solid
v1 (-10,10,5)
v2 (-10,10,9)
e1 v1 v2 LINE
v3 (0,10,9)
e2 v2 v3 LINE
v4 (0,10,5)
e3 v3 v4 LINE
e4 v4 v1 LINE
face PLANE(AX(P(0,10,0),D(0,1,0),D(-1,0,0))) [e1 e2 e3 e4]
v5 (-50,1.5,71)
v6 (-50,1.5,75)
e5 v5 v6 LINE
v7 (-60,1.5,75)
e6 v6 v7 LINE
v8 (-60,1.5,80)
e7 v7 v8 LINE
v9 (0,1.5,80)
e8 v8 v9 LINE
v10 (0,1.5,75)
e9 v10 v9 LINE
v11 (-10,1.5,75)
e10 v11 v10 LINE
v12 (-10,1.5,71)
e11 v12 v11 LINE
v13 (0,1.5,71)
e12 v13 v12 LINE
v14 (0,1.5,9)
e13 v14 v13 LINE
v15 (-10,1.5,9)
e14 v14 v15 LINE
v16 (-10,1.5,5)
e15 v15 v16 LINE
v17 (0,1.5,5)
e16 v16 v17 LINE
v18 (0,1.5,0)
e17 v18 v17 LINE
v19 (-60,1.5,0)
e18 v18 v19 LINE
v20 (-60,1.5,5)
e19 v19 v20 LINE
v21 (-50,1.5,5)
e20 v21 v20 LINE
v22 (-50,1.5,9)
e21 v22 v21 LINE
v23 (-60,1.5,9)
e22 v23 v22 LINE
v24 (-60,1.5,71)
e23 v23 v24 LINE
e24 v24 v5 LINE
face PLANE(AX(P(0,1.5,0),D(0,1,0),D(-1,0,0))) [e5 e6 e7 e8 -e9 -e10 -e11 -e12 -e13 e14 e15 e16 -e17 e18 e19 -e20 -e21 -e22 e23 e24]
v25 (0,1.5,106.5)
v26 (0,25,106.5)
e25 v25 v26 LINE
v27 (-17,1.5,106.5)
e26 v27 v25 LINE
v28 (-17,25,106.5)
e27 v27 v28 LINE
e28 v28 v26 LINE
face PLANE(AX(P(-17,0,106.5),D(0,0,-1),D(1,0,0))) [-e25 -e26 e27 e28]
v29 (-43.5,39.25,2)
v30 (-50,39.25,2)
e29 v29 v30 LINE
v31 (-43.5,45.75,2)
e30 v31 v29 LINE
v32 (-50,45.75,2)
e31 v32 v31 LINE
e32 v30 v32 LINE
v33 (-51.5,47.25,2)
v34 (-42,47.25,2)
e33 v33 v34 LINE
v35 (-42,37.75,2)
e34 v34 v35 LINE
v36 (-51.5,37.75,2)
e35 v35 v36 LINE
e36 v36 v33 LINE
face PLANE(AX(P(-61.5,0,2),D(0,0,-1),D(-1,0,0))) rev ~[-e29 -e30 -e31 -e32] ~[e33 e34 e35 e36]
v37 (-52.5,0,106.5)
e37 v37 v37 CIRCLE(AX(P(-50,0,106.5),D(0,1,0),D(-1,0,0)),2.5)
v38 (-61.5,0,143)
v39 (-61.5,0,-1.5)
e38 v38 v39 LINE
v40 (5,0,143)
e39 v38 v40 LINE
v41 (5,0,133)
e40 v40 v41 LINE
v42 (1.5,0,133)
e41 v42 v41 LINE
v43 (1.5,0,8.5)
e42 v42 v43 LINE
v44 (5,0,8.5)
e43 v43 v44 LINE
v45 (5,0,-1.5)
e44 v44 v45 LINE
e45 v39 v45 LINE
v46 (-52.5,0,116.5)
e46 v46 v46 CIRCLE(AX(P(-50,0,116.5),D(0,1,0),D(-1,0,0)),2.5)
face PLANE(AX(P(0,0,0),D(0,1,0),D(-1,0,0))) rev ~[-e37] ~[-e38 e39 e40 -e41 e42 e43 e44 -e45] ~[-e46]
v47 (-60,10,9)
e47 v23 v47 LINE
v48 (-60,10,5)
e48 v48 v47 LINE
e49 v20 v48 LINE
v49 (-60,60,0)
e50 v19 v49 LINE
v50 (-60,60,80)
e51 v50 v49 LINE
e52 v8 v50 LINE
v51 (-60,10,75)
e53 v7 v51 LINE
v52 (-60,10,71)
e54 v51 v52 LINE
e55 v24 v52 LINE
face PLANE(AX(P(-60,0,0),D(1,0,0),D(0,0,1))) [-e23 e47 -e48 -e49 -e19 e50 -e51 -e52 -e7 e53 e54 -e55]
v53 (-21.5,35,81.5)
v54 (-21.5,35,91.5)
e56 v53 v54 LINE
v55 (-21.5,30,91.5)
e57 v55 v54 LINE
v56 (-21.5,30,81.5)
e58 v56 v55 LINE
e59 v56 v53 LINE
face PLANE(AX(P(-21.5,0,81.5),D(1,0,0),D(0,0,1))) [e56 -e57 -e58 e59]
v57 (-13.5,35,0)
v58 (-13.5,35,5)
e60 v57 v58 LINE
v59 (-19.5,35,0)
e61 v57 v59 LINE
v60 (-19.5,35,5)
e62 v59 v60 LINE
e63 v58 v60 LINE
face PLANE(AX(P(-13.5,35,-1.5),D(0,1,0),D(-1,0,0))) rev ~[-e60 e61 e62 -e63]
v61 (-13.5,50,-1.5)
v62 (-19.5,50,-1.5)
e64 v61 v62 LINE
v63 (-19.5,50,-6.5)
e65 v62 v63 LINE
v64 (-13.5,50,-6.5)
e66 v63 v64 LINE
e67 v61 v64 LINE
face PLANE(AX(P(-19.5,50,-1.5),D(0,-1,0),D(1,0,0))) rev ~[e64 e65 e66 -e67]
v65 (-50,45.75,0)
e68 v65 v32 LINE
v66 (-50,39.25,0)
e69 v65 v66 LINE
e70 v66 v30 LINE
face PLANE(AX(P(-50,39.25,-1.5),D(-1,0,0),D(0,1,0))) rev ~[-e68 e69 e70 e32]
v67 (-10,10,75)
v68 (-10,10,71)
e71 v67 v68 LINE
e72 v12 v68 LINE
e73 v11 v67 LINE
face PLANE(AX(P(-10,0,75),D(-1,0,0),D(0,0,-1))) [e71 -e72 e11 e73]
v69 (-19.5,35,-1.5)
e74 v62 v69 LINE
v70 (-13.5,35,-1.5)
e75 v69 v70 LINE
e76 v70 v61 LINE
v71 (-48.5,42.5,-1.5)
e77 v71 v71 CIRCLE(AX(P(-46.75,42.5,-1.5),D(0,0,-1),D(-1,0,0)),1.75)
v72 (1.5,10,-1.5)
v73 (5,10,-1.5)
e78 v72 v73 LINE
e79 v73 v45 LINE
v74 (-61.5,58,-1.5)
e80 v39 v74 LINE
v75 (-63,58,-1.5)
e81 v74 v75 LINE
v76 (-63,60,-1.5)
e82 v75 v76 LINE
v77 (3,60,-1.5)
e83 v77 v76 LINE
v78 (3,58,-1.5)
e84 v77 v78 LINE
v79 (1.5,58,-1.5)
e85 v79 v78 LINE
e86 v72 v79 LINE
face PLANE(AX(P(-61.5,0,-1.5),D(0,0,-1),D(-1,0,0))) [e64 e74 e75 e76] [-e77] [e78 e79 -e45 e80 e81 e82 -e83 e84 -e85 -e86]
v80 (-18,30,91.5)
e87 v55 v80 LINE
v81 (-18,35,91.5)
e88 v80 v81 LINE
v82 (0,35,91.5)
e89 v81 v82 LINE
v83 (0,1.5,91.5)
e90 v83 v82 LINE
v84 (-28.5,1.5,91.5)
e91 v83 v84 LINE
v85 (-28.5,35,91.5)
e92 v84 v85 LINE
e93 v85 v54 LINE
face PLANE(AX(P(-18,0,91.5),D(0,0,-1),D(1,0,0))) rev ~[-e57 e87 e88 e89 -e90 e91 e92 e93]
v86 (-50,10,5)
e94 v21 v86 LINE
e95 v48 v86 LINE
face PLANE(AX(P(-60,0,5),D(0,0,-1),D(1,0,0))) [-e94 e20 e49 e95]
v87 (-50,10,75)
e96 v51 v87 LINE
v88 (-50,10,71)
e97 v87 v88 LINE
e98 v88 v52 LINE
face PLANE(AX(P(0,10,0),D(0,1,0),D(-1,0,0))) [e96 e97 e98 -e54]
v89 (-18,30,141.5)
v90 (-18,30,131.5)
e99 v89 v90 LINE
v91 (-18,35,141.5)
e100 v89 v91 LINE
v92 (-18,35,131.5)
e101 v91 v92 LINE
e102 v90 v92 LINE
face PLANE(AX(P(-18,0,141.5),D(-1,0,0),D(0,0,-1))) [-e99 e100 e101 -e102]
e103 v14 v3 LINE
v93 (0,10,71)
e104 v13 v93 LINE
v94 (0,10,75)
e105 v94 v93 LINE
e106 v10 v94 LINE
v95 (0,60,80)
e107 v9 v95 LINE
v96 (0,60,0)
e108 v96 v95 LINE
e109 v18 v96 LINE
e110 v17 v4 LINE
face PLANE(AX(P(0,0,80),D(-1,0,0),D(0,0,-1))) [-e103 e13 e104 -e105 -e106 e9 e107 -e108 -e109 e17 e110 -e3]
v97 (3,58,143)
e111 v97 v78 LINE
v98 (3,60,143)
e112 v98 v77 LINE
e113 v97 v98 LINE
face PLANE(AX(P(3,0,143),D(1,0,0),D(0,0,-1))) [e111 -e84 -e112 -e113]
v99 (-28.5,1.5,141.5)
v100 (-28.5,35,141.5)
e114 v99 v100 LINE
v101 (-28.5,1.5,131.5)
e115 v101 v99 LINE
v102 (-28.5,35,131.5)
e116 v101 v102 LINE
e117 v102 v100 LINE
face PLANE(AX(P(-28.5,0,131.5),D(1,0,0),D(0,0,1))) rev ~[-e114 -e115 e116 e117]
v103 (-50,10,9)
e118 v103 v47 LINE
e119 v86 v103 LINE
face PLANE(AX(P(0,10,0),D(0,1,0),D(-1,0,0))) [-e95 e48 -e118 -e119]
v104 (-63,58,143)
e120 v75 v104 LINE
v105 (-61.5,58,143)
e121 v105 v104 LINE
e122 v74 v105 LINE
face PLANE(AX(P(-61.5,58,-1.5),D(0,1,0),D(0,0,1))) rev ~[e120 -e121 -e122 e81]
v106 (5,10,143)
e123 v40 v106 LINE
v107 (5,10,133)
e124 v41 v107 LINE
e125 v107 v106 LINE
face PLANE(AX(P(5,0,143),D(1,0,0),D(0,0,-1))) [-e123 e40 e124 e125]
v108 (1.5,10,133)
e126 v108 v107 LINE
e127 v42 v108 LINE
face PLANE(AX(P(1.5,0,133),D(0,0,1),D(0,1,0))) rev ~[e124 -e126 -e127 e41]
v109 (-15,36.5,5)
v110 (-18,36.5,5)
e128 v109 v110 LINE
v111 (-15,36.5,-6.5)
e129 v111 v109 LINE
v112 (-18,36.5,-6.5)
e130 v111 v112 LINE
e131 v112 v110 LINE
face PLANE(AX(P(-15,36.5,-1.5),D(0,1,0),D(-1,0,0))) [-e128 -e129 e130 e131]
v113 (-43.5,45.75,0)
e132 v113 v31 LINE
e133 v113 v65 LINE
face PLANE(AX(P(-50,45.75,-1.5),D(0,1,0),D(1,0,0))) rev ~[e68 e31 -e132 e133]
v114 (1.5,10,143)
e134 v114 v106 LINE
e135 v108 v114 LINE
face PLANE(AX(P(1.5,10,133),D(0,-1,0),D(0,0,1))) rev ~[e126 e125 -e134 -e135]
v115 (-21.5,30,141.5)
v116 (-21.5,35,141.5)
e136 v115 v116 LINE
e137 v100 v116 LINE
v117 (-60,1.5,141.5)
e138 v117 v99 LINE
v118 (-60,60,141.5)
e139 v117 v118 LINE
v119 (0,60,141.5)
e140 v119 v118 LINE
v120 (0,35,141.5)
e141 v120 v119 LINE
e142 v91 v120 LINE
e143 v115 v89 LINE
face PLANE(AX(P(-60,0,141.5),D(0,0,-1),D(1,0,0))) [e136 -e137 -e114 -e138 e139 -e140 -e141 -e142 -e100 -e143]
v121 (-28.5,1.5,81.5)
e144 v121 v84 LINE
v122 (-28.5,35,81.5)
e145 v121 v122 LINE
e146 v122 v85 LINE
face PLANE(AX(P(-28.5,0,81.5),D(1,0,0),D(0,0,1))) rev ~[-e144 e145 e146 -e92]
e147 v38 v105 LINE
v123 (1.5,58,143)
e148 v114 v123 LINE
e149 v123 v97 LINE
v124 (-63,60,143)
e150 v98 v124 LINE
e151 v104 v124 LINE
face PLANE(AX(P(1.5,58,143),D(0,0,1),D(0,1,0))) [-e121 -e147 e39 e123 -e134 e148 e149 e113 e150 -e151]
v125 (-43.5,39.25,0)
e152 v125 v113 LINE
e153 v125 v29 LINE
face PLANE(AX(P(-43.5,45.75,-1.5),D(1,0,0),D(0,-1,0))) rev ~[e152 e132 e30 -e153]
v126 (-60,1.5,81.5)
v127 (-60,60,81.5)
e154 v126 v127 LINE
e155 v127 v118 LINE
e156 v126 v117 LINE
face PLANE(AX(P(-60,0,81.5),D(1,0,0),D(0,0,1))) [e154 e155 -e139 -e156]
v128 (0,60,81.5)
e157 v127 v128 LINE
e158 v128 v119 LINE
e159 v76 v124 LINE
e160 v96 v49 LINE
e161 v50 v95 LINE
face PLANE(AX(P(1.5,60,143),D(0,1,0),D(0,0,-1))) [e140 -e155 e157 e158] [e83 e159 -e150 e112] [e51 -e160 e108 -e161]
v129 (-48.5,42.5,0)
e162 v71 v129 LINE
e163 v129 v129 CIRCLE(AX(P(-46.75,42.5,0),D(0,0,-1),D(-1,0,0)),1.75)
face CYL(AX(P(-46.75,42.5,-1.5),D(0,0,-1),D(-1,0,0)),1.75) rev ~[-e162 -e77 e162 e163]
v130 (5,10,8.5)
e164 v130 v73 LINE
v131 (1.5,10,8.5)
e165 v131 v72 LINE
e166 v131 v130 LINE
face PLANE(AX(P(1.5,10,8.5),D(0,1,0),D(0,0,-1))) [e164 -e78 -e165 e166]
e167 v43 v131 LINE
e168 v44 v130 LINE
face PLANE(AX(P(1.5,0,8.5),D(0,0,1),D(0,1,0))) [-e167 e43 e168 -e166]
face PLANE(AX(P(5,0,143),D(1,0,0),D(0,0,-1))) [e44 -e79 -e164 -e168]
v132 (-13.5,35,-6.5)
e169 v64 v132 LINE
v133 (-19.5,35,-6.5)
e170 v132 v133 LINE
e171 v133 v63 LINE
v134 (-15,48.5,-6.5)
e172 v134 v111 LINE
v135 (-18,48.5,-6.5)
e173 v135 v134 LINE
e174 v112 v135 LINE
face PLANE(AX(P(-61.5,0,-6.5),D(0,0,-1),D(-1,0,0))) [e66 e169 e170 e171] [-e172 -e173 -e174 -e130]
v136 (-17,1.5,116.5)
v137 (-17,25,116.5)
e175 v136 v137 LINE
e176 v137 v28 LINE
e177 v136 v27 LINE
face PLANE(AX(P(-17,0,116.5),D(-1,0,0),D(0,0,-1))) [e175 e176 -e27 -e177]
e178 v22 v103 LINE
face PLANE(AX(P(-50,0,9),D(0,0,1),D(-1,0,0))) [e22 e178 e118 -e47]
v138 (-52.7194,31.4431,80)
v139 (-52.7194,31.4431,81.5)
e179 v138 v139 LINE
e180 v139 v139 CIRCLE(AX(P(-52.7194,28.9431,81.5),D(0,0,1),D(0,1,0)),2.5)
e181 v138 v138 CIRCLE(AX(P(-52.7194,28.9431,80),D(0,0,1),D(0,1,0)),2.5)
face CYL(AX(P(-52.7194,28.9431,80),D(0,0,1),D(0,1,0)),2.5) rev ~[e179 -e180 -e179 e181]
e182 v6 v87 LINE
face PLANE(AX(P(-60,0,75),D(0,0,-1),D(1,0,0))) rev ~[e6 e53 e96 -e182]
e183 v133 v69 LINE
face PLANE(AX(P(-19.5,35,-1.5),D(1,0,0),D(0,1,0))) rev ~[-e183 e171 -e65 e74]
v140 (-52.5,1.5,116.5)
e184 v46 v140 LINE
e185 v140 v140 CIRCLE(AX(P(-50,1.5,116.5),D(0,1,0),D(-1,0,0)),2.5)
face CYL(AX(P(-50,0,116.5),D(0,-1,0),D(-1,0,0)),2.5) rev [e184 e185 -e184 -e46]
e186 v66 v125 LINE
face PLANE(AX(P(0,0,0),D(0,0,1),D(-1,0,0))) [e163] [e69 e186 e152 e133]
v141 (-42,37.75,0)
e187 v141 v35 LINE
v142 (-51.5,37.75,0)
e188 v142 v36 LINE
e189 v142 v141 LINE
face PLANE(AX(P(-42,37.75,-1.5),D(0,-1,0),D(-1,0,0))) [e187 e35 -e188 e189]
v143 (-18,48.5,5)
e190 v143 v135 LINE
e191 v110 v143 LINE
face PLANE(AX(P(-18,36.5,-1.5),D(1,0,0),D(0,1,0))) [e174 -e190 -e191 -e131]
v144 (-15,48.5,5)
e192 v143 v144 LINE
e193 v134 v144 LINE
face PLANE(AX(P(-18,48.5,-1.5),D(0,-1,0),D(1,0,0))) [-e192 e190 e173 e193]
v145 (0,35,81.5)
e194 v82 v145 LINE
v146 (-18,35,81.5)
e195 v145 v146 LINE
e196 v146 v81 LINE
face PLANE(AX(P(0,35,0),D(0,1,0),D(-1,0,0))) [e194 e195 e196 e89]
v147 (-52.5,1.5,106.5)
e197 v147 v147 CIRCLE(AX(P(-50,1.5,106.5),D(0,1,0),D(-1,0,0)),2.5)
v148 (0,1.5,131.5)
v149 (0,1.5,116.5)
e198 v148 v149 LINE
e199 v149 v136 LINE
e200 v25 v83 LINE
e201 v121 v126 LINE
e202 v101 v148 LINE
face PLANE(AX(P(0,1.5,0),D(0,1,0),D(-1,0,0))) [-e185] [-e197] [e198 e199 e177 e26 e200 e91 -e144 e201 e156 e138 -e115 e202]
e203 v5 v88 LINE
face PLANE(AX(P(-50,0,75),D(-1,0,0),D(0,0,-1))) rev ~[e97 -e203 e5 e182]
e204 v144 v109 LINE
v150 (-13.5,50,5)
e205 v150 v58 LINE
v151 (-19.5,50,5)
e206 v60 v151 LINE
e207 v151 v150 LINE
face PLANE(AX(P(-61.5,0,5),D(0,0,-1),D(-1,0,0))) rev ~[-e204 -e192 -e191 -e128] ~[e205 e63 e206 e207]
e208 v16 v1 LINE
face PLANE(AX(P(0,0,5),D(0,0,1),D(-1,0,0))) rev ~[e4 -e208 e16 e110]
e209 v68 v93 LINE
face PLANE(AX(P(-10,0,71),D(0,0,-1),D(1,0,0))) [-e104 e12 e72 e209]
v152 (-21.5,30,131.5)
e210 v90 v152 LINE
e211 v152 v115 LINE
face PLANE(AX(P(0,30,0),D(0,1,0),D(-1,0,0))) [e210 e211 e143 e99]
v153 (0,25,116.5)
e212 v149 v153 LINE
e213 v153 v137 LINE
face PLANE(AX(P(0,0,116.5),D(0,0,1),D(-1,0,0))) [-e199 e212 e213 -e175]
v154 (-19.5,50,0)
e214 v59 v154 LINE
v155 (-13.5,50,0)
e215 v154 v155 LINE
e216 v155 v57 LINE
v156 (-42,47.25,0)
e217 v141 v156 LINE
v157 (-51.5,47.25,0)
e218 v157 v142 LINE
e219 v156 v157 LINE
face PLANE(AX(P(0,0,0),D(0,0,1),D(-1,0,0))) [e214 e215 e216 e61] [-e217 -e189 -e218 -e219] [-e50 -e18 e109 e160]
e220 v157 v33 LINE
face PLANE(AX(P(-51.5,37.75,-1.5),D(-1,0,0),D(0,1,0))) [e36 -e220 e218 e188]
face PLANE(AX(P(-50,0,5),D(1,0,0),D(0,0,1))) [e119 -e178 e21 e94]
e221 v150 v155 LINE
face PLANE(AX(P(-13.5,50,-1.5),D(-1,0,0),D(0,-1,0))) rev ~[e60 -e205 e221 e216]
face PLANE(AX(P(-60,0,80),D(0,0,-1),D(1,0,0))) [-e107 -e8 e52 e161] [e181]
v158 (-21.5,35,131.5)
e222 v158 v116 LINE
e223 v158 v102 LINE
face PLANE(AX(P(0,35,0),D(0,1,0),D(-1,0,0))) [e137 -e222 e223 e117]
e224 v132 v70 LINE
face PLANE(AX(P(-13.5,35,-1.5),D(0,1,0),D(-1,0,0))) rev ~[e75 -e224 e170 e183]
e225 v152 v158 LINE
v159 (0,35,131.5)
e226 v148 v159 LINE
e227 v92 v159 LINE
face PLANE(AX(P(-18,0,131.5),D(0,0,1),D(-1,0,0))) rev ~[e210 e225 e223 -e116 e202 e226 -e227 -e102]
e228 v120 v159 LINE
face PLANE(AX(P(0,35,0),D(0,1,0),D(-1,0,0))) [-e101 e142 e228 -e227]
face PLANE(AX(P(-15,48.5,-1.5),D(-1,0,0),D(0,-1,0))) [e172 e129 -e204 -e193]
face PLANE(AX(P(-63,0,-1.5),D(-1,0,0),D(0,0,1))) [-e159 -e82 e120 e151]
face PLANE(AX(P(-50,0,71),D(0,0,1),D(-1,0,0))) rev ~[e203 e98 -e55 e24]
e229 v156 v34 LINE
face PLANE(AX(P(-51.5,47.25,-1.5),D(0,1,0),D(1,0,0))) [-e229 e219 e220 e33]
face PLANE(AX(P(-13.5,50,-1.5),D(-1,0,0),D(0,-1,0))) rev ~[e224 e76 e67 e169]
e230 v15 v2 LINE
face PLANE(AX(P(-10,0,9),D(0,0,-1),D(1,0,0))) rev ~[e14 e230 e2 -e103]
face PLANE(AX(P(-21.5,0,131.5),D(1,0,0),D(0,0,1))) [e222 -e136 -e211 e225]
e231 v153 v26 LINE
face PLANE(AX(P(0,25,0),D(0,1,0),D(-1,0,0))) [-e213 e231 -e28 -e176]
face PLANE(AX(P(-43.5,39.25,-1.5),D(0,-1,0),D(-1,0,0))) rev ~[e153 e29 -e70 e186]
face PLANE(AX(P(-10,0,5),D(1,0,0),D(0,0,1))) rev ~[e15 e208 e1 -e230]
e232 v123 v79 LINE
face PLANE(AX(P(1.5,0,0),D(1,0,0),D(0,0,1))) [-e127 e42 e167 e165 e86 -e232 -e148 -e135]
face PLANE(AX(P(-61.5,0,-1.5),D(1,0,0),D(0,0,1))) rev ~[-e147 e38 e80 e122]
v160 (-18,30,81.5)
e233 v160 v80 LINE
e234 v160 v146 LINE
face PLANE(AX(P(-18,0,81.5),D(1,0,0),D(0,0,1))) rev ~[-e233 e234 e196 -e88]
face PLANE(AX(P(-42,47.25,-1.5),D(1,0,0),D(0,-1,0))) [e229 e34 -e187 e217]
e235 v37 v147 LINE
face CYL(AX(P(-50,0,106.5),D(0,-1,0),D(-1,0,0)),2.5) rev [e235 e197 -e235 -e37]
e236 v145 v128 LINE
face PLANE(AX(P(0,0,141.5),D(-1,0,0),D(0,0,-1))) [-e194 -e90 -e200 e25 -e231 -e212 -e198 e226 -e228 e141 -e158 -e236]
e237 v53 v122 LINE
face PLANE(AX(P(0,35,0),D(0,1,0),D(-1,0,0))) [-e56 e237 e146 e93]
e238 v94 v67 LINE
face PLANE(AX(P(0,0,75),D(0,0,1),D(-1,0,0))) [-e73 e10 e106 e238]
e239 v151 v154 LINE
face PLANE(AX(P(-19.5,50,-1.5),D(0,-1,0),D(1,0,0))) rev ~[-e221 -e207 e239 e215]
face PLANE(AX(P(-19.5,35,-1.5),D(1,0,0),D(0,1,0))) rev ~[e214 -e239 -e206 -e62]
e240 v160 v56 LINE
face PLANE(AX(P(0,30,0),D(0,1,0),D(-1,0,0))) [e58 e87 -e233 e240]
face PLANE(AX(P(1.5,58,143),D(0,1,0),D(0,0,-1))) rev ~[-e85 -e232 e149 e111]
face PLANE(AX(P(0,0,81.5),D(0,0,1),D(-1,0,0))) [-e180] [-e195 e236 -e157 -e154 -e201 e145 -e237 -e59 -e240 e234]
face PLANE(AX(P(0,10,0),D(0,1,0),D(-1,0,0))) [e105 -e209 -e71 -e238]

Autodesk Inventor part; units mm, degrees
ref_plane "YZ Plane" through (0, 0, 0) normal (1, 0, 0) x (0, 1, 0)
ref_plane "XZ Plane" through (0, 0, 0) normal (0, 1, 0) x (-1, 0, 0)
ref_plane "XY Plane" through (0, 0, 0) normal (0, 0, 1) x (1, 0, 0)
sketch "Skizze1" plane through (0, 0, 0) normal (0, 1, 0) x (-1, 0, 0)
  line L0 (0, 0) -> (60, 0)
  line L1 (60, 0) -> (60, 81.5)
  line L2 (60, 81.5) -> (60, 141.5)
  line L3 (60, 141.5) -> (0, 141.5)
  line L4 (0, 141.5) -> (0, 81.5)
  line L5 (0, 81.5) -> (60, 81.5)
  line L6 (0, 81.5) -> (0, 0)
  line L7 (60, 0) -> (0, 0)
  circle A0 centre (50, 116.5) radius 2.5
  circle A1 centre (50, 106.5) radius 2.5
  line L8 (0, 0) -> (-1.5, 0)
  line L9 (-1.5, 0) -> (-1.5, 141.5)
  line L10 (-1.5, 141.5) -> (0, 141.5)
  line L11 (0, 141.5) -> (0, 0)
  line L12 (-1.5, 141.5) -> (61.5, 141.5)
  line L13 (61.5, 141.5) -> (61.5, 143)
  line L14 (61.5, 143) -> (-1.5, 143)
  line L15 (-1.5, 143) -> (-1.5, 141.5)
  line L16 (61.5, 141.5) -> (60, 141.5)
  line L17 (60, 141.5) -> (60, 0)
  line L18 (60, 0) -> (61.5, 0)
  line L19 (61.5, 0) -> (61.5, 141.5)
  line L20 (61.5, 0) -> (-1.5, 0)
  line L21 (-1.5, 0) -> (-1.5, -1.5)
  line L22 (-1.5, -1.5) -> (61.5, -1.5)
  line L23 (61.5, -1.5) -> (61.5, 0)
  line L24 (61.5, 71.5) -> (61.5, 80)
  line L25 (61.5, 80) -> (-1.5, 80)
  line L26 (-1.5, 80) -> (-1.5, 70.75)
  line L27 (0, 141.5) -> (18, 141.5)
  line L28 (18, 141.5) -> (18, 131.5)
  line L29 (18, 131.5) -> (0, 131.5)
  line L30 (0, 131.5) -> (0, 141.5)
  line L31 (18, 131.5) -> (21.5, 131.5)
  line L32 (21.5, 131.5) -> (21.5, 141.5)
  line L33 (21.5, 141.5) -> (18, 141.5)
  line L34 (18, 141.5) -> (18, 131.5)
  line L35 (21.5, 131.5) -> (28.5, 131.5)
  line L36 (28.5, 131.5) -> (28.5, 141.5)
  line L37 (28.5, 141.5) -> (21.5, 141.5)
  line L38 (21.5, 141.5) -> (21.5, 131.5)
  line L39 (0, 81.5) -> (18, 81.5)
  line L40 (18, 81.5) -> (18, 91.5)
  line L41 (18, 91.5) -> (0, 91.5)
  line L42 (0, 91.5) -> (0, 81.5)
  line L43 (18, 81.5) -> (21.5, 81.5)
  line L44 (21.5, 81.5) -> (21.5, 91.5)
  line L45 (21.5, 91.5) -> (18, 91.5)
  line L46 (18, 91.5) -> (18, 81.5)
  line L47 (21.5, 81.5) -> (28.5, 81.5)
  line L48 (28.5, 81.5) -> (28.5, 91.5)
  line L49 (28.5, 91.5) -> (21.5, 91.5)
  line L50 (21.5, 91.5) -> (21.5, 81.5)
  line L51 (0, 116.5) -> (17, 116.5)
  line L52 (17, 116.5) -> (17, 106.5)
  line L53 (17, 106.5) -> (0, 106.5)
  line L54 (0, 106.5) -> (0, 116.5)
  line L55 (0, 75) -> (10, 75)
  line L56 (10, 75) -> (10, 71)
  line L57 (10, 71) -> (0, 71)
  line L58 (0, 71) -> (0, 75)
  line L59 (60, 71) -> (60, 73.5)
  line L60 (60, 5) -> (60, 9)
  line L61 (60, 75) -> (50, 75)
  line L62 (50, 75) -> (50, 71)
  line L63 (50, 71) -> (60, 71)
  line L64 (60, 71) -> (60, 75)
  line L65 (0, 5) -> (10, 5)
  line L66 (10, 5) -> (10, 9)
  line L67 (10, 9) -> (0, 9)
  line L68 (0, 9) -> (0, 5)
  line L69 (60, 5) -> (50, 5)
  line L70 (50, 5) -> (50, 9)
  line L71 (50, 9) -> (60, 9)
  line L72 (60, 9) -> (60, 5)
  point P0 (0, 131.5)
  point P1 (0, 116.5)
  point P2 (0, 106.5)
  point P3 (28.5, 141.5)
  point P4 (60, 80)
  point P5 (0, 80)
  point P6 (21.5, 141.5)
  point P7 (18, 141.5)
  point P8 (0, 71)
  point P9 (0, 9)
  dimension "d0" = 81.5
  dimension "d1" = 60
  dimension "d2" = 60
  dimension "d3" = 5
  dimension "d4" = 10
  dimension "d5" = 5
  dimension "d6" = 10
  dimension "d7" = 25
  dimension "d11" = 1.5
  dimension "d12" = 1.5
  dimension "d13" = 1.5
  dimension "d14" = 1.5
  dimension "d15" = 1.5
  dimension "d16" = 10
  dimension "d17" = 18
  dimension "d18" = 3.5
  dimension "d19" = 7
  dimension "d20" = 10
  dimension "d21" = 17
  dimension "d59" = 0
  dimension "d60" = 25
  dimension "d61" = 10
  dimension "d92" = 4
  dimension "d93" = 10
  dimension "d94" = 5
  dimension "d100" = 10
  dimension "d101" = 4
  dimension "d102" = 10
  dimension "d103" = 5
  dimension "d104" = 70
  dimension "d105" = 40
  dimension "d115" = 144.5
extrude "Extrusion1" add sketch "Skizze1" along normal blind 1.5 contours L6 L65 L66 L67 L57 L56 L55 L25 L1 L61 L62 L63 L71 L70 L69 L0 | L6 L67 L66 L65 | L69 L70 L71 L1 | L6 L55 L56 L57 | L63 L62 L61 L1 | L2 L5 L48 L49 L45 L41 L4 L53 L52 L51 L29 L31 L35 L36 L3
extrude "Extrusion2" add sketch "Skizze1" along normal blind 30 contours L3 L32 L31 L28 | L40 L45 L44 L5
extrude "Extrusion3" add sketch "Skizze1" along normal blind 35 contours L36 L35 L32 L3 | L5 L44 L49 L48
extrude "Extrusion4" add sketch "Skizze1" along normal blind 35 contours L3 L28 L29 L4 | L4 L41 L40 L5
extrude "Extrusion5" add sketch "Skizze1" along normal blind 25 contours L51 L52 L53 L4
extrude "Extrusion6" add sketch "Skizze1" along normal blind 60 contours L8 L9 L25 L6 | L0 L18 L23 L22 L21 L8 | L1 L25 L19 L18 | L9 L10 L4 L6 L25 | L25 L1 L2 L12 L19 | L15 L14 L13 L12 L3 L10 | L6 L5 L1 L25
sketch "Skizze3" plane through (0, 1.5, 80) normal (0, 0, -1) x (-1, 0, 0)
  point P0 (0, -1.5)
  point P1 (52.7194, 27.4431)
hole "Bohrung1" at (-52.7194, 28.9431, 80) direction (0, 0, 1) diameter 5 depth 2
sketch "Skizze4" plane through (-61.5, 0, -1.5) normal (-1, 0, 0) x (0, 0, 1)
  line L0 (0, 60) -> (144.5, 60) projected
  line L1 (0, 0) -> (0, 60) projected
  line L2 (144.5, 60) -> (0, 60)
  line L3 (0, 60) -> (0, 58)
  line L4 (0, 58) -> (144.5, 58)
  line L5 (144.5, 58) -> (144.5, 60)
  point P0 (1.5, 0)
  dimension "d41" = 2
extrude "Extrusion7" add sketch "Skizze4" along normal blind 1.5
sketch "Skizze5" plane through (1.5, 0, 143) normal (1, 0, 0) x (0, 0, -1)
  line L0 (0, 58) -> (0, 60) projected
  line L1 (0, 58) -> (144.5, 58) projected
  line L2 (0, 60) -> (144.5, 60)
  line L3 (144.5, 60) -> (144.5, 58)
  line L4 (144.5, 58) -> (0, 58)
  line L5 (0, 58) -> (0, 60)
  line L6 (144.5, 0) -> (144.5, 58) projected
  line L7 (0, 0) -> (144.5, 0)
  line L8 (144.5, 0) -> (144.5, 2)
  line L9 (0, 2) -> (0, 0)
  line L10 (0, 0) -> (0, 60) projected
  line L11 (0, 0) -> (10, 0)
  line L12 (10, 0) -> (10, 10)
  line L13 (10, 10) -> (0, 10)
  line L14 (0, 10) -> (0, 0)
  line L15 (144.5, 0) -> (134.5, 0)
  line L16 (134.5, 0) -> (134.5, 10)
  line L17 (134.5, 10) -> (144.5, 10)
  line L18 (144.5, 10) -> (144.5, 0)
  point P0 (143, 0)
  point P1 (134.5, 0)
  point P2 (0, 10)
  dimension "d44" = 2
  dimension "d48" = 10
  dimension "d49" = 10
  dimension "d50" = 10
  dimension "d51" = 10
extrude "Extrusion8" add sketch "Skizze5" along normal blind 1.5 contours L0 L2 L3 L1
extrude "Extrusion9" add sketch "Skizze5" along normal blind 3.5 contours L13 L12 L7 L9 L10 | L6 L7 L16 L17
sketch "Skizze6" plane through (-61.5, 0, -1.5) normal (0, 0, -1) x (-1, 0, 0)
  line L0 (1.5, 60) -> (1.5, 58) projected
  line L1 (-64.5, 58) -> (-64.5, 60) projected
  line L2 (0, 58) -> (1.5, 58) projected
  line L3 (1.5, 60) -> (-64.5, 60) projected
  line L4 (0, 0) -> (0, 58) projected
  line L5 (-63, 10) -> (-63, 58) projected
  line L6 (-66.5, 0) -> (-66.5, 10) projected
  point P0 (-61.5, 0)
  dimension "d54" = 66
  dimension "d55" = 2
  dimension "d56" = 63
  dimension "d57" = 3.5
sketch "Skizze7" plane through (-61.5, 0, -1.5) normal (0, 0, -1) x (-1, 0, 0)
  line L0 (-43.5, 48.5) -> (-46.5, 48.5)
  line L1 (-46.5, 48.5) -> (-46.5, 36.5)
  line L2 (-46.5, 36.5) -> (-43.5, 36.5)
  line L3 (-43.5, 36.5) -> (-43.5, 48.5)
  line L4 (-42, 50) -> (-48, 50)
  line L5 (-48, 50) -> (-48, 35)
  line L6 (-48, 35) -> (-42, 35)
  line L7 (-42, 35) -> (-42, 50)
  line L8 (-63, 10) -> (-63, 58) projected
  line L9 (1.5, 60) -> (-64.5, 60) projected
  circle A0 centre (-14.75, 42.5) radius 1.75
  line L10 (-11.5, 45.75) -> (-18, 45.75)
  line L11 (-18, 45.75) -> (-18, 39.25)
  line L12 (-18, 39.25) -> (-11.5, 39.25)
  line L13 (-11.5, 39.25) -> (-11.5, 45.75)
  line L14 (-10, 47.25) -> (-19.5, 47.25)
  line L15 (-19.5, 47.25) -> (-19.5, 37.75)
  line L16 (-19.5, 37.75) -> (-10, 37.75)
  line L17 (-10, 37.75) -> (-10, 47.25)
  line L18 (0, 0) -> (0, 58) projected
  line L19 (-61.5, 1.5) -> (-1.5, 1.5) projected
  point P0 (-61.5, 0)
  dimension "d62" = 3
  dimension "d63" = 12
  dimension "d64" = 1.5
  dimension "d65" = 1.5
  dimension "d66" = 1.5
  dimension "d67" = 1.5
  dimension "d68" = 15
  dimension "d69" = 10
  dimension "d70" = 3.5
  dimension "d71" = 17.5
  dimension "d72" = 3.25
  dimension "d73" = 3.25
  dimension "d74" = 6.5
  dimension "d75" = 6.5
  dimension "d76" = 1.5
  dimension "d77" = 1.5
  dimension "d78" = 1.5
  dimension "d79" = 1.5
  dimension "d80" = 10
  dimension "d91" = 33.5
  dimension "d108" = 58.5
extrude "Extrusion10" cut sketch "Skizze7" against normal blind 1.5 contours A0
extrude "Extrusion11" add sketch "Skizze7" against normal blind 3.5 contours L17 L16 L15 L14
extrude "Extrusion12" cut sketch "Skizze7" against normal blind 1.5 contours L3 L2 L1 L0
extrude "Extrusion13" add sketch "Skizze7" along normal blind 5 and the other way blind 6.5 contours L7 L6 L5 L4
extrude "Extrusion14" add sketch "Skizze1" along normal blind 10 contours L6 L55 L56 L57
extrude "Extrusion15" add sketch "Skizze1" along normal blind 10 contours L6 L67 L66 L65
extrude "Extrusion16" add sketch "Skizze1" along normal blind 10 contours L63 L62 L61 L1
extrude "Extrusion17" add sketch "Skizze1" along normal blind 10 contours L69 L70 L71 L1
properties part number "Box-Pumpe.v2"
